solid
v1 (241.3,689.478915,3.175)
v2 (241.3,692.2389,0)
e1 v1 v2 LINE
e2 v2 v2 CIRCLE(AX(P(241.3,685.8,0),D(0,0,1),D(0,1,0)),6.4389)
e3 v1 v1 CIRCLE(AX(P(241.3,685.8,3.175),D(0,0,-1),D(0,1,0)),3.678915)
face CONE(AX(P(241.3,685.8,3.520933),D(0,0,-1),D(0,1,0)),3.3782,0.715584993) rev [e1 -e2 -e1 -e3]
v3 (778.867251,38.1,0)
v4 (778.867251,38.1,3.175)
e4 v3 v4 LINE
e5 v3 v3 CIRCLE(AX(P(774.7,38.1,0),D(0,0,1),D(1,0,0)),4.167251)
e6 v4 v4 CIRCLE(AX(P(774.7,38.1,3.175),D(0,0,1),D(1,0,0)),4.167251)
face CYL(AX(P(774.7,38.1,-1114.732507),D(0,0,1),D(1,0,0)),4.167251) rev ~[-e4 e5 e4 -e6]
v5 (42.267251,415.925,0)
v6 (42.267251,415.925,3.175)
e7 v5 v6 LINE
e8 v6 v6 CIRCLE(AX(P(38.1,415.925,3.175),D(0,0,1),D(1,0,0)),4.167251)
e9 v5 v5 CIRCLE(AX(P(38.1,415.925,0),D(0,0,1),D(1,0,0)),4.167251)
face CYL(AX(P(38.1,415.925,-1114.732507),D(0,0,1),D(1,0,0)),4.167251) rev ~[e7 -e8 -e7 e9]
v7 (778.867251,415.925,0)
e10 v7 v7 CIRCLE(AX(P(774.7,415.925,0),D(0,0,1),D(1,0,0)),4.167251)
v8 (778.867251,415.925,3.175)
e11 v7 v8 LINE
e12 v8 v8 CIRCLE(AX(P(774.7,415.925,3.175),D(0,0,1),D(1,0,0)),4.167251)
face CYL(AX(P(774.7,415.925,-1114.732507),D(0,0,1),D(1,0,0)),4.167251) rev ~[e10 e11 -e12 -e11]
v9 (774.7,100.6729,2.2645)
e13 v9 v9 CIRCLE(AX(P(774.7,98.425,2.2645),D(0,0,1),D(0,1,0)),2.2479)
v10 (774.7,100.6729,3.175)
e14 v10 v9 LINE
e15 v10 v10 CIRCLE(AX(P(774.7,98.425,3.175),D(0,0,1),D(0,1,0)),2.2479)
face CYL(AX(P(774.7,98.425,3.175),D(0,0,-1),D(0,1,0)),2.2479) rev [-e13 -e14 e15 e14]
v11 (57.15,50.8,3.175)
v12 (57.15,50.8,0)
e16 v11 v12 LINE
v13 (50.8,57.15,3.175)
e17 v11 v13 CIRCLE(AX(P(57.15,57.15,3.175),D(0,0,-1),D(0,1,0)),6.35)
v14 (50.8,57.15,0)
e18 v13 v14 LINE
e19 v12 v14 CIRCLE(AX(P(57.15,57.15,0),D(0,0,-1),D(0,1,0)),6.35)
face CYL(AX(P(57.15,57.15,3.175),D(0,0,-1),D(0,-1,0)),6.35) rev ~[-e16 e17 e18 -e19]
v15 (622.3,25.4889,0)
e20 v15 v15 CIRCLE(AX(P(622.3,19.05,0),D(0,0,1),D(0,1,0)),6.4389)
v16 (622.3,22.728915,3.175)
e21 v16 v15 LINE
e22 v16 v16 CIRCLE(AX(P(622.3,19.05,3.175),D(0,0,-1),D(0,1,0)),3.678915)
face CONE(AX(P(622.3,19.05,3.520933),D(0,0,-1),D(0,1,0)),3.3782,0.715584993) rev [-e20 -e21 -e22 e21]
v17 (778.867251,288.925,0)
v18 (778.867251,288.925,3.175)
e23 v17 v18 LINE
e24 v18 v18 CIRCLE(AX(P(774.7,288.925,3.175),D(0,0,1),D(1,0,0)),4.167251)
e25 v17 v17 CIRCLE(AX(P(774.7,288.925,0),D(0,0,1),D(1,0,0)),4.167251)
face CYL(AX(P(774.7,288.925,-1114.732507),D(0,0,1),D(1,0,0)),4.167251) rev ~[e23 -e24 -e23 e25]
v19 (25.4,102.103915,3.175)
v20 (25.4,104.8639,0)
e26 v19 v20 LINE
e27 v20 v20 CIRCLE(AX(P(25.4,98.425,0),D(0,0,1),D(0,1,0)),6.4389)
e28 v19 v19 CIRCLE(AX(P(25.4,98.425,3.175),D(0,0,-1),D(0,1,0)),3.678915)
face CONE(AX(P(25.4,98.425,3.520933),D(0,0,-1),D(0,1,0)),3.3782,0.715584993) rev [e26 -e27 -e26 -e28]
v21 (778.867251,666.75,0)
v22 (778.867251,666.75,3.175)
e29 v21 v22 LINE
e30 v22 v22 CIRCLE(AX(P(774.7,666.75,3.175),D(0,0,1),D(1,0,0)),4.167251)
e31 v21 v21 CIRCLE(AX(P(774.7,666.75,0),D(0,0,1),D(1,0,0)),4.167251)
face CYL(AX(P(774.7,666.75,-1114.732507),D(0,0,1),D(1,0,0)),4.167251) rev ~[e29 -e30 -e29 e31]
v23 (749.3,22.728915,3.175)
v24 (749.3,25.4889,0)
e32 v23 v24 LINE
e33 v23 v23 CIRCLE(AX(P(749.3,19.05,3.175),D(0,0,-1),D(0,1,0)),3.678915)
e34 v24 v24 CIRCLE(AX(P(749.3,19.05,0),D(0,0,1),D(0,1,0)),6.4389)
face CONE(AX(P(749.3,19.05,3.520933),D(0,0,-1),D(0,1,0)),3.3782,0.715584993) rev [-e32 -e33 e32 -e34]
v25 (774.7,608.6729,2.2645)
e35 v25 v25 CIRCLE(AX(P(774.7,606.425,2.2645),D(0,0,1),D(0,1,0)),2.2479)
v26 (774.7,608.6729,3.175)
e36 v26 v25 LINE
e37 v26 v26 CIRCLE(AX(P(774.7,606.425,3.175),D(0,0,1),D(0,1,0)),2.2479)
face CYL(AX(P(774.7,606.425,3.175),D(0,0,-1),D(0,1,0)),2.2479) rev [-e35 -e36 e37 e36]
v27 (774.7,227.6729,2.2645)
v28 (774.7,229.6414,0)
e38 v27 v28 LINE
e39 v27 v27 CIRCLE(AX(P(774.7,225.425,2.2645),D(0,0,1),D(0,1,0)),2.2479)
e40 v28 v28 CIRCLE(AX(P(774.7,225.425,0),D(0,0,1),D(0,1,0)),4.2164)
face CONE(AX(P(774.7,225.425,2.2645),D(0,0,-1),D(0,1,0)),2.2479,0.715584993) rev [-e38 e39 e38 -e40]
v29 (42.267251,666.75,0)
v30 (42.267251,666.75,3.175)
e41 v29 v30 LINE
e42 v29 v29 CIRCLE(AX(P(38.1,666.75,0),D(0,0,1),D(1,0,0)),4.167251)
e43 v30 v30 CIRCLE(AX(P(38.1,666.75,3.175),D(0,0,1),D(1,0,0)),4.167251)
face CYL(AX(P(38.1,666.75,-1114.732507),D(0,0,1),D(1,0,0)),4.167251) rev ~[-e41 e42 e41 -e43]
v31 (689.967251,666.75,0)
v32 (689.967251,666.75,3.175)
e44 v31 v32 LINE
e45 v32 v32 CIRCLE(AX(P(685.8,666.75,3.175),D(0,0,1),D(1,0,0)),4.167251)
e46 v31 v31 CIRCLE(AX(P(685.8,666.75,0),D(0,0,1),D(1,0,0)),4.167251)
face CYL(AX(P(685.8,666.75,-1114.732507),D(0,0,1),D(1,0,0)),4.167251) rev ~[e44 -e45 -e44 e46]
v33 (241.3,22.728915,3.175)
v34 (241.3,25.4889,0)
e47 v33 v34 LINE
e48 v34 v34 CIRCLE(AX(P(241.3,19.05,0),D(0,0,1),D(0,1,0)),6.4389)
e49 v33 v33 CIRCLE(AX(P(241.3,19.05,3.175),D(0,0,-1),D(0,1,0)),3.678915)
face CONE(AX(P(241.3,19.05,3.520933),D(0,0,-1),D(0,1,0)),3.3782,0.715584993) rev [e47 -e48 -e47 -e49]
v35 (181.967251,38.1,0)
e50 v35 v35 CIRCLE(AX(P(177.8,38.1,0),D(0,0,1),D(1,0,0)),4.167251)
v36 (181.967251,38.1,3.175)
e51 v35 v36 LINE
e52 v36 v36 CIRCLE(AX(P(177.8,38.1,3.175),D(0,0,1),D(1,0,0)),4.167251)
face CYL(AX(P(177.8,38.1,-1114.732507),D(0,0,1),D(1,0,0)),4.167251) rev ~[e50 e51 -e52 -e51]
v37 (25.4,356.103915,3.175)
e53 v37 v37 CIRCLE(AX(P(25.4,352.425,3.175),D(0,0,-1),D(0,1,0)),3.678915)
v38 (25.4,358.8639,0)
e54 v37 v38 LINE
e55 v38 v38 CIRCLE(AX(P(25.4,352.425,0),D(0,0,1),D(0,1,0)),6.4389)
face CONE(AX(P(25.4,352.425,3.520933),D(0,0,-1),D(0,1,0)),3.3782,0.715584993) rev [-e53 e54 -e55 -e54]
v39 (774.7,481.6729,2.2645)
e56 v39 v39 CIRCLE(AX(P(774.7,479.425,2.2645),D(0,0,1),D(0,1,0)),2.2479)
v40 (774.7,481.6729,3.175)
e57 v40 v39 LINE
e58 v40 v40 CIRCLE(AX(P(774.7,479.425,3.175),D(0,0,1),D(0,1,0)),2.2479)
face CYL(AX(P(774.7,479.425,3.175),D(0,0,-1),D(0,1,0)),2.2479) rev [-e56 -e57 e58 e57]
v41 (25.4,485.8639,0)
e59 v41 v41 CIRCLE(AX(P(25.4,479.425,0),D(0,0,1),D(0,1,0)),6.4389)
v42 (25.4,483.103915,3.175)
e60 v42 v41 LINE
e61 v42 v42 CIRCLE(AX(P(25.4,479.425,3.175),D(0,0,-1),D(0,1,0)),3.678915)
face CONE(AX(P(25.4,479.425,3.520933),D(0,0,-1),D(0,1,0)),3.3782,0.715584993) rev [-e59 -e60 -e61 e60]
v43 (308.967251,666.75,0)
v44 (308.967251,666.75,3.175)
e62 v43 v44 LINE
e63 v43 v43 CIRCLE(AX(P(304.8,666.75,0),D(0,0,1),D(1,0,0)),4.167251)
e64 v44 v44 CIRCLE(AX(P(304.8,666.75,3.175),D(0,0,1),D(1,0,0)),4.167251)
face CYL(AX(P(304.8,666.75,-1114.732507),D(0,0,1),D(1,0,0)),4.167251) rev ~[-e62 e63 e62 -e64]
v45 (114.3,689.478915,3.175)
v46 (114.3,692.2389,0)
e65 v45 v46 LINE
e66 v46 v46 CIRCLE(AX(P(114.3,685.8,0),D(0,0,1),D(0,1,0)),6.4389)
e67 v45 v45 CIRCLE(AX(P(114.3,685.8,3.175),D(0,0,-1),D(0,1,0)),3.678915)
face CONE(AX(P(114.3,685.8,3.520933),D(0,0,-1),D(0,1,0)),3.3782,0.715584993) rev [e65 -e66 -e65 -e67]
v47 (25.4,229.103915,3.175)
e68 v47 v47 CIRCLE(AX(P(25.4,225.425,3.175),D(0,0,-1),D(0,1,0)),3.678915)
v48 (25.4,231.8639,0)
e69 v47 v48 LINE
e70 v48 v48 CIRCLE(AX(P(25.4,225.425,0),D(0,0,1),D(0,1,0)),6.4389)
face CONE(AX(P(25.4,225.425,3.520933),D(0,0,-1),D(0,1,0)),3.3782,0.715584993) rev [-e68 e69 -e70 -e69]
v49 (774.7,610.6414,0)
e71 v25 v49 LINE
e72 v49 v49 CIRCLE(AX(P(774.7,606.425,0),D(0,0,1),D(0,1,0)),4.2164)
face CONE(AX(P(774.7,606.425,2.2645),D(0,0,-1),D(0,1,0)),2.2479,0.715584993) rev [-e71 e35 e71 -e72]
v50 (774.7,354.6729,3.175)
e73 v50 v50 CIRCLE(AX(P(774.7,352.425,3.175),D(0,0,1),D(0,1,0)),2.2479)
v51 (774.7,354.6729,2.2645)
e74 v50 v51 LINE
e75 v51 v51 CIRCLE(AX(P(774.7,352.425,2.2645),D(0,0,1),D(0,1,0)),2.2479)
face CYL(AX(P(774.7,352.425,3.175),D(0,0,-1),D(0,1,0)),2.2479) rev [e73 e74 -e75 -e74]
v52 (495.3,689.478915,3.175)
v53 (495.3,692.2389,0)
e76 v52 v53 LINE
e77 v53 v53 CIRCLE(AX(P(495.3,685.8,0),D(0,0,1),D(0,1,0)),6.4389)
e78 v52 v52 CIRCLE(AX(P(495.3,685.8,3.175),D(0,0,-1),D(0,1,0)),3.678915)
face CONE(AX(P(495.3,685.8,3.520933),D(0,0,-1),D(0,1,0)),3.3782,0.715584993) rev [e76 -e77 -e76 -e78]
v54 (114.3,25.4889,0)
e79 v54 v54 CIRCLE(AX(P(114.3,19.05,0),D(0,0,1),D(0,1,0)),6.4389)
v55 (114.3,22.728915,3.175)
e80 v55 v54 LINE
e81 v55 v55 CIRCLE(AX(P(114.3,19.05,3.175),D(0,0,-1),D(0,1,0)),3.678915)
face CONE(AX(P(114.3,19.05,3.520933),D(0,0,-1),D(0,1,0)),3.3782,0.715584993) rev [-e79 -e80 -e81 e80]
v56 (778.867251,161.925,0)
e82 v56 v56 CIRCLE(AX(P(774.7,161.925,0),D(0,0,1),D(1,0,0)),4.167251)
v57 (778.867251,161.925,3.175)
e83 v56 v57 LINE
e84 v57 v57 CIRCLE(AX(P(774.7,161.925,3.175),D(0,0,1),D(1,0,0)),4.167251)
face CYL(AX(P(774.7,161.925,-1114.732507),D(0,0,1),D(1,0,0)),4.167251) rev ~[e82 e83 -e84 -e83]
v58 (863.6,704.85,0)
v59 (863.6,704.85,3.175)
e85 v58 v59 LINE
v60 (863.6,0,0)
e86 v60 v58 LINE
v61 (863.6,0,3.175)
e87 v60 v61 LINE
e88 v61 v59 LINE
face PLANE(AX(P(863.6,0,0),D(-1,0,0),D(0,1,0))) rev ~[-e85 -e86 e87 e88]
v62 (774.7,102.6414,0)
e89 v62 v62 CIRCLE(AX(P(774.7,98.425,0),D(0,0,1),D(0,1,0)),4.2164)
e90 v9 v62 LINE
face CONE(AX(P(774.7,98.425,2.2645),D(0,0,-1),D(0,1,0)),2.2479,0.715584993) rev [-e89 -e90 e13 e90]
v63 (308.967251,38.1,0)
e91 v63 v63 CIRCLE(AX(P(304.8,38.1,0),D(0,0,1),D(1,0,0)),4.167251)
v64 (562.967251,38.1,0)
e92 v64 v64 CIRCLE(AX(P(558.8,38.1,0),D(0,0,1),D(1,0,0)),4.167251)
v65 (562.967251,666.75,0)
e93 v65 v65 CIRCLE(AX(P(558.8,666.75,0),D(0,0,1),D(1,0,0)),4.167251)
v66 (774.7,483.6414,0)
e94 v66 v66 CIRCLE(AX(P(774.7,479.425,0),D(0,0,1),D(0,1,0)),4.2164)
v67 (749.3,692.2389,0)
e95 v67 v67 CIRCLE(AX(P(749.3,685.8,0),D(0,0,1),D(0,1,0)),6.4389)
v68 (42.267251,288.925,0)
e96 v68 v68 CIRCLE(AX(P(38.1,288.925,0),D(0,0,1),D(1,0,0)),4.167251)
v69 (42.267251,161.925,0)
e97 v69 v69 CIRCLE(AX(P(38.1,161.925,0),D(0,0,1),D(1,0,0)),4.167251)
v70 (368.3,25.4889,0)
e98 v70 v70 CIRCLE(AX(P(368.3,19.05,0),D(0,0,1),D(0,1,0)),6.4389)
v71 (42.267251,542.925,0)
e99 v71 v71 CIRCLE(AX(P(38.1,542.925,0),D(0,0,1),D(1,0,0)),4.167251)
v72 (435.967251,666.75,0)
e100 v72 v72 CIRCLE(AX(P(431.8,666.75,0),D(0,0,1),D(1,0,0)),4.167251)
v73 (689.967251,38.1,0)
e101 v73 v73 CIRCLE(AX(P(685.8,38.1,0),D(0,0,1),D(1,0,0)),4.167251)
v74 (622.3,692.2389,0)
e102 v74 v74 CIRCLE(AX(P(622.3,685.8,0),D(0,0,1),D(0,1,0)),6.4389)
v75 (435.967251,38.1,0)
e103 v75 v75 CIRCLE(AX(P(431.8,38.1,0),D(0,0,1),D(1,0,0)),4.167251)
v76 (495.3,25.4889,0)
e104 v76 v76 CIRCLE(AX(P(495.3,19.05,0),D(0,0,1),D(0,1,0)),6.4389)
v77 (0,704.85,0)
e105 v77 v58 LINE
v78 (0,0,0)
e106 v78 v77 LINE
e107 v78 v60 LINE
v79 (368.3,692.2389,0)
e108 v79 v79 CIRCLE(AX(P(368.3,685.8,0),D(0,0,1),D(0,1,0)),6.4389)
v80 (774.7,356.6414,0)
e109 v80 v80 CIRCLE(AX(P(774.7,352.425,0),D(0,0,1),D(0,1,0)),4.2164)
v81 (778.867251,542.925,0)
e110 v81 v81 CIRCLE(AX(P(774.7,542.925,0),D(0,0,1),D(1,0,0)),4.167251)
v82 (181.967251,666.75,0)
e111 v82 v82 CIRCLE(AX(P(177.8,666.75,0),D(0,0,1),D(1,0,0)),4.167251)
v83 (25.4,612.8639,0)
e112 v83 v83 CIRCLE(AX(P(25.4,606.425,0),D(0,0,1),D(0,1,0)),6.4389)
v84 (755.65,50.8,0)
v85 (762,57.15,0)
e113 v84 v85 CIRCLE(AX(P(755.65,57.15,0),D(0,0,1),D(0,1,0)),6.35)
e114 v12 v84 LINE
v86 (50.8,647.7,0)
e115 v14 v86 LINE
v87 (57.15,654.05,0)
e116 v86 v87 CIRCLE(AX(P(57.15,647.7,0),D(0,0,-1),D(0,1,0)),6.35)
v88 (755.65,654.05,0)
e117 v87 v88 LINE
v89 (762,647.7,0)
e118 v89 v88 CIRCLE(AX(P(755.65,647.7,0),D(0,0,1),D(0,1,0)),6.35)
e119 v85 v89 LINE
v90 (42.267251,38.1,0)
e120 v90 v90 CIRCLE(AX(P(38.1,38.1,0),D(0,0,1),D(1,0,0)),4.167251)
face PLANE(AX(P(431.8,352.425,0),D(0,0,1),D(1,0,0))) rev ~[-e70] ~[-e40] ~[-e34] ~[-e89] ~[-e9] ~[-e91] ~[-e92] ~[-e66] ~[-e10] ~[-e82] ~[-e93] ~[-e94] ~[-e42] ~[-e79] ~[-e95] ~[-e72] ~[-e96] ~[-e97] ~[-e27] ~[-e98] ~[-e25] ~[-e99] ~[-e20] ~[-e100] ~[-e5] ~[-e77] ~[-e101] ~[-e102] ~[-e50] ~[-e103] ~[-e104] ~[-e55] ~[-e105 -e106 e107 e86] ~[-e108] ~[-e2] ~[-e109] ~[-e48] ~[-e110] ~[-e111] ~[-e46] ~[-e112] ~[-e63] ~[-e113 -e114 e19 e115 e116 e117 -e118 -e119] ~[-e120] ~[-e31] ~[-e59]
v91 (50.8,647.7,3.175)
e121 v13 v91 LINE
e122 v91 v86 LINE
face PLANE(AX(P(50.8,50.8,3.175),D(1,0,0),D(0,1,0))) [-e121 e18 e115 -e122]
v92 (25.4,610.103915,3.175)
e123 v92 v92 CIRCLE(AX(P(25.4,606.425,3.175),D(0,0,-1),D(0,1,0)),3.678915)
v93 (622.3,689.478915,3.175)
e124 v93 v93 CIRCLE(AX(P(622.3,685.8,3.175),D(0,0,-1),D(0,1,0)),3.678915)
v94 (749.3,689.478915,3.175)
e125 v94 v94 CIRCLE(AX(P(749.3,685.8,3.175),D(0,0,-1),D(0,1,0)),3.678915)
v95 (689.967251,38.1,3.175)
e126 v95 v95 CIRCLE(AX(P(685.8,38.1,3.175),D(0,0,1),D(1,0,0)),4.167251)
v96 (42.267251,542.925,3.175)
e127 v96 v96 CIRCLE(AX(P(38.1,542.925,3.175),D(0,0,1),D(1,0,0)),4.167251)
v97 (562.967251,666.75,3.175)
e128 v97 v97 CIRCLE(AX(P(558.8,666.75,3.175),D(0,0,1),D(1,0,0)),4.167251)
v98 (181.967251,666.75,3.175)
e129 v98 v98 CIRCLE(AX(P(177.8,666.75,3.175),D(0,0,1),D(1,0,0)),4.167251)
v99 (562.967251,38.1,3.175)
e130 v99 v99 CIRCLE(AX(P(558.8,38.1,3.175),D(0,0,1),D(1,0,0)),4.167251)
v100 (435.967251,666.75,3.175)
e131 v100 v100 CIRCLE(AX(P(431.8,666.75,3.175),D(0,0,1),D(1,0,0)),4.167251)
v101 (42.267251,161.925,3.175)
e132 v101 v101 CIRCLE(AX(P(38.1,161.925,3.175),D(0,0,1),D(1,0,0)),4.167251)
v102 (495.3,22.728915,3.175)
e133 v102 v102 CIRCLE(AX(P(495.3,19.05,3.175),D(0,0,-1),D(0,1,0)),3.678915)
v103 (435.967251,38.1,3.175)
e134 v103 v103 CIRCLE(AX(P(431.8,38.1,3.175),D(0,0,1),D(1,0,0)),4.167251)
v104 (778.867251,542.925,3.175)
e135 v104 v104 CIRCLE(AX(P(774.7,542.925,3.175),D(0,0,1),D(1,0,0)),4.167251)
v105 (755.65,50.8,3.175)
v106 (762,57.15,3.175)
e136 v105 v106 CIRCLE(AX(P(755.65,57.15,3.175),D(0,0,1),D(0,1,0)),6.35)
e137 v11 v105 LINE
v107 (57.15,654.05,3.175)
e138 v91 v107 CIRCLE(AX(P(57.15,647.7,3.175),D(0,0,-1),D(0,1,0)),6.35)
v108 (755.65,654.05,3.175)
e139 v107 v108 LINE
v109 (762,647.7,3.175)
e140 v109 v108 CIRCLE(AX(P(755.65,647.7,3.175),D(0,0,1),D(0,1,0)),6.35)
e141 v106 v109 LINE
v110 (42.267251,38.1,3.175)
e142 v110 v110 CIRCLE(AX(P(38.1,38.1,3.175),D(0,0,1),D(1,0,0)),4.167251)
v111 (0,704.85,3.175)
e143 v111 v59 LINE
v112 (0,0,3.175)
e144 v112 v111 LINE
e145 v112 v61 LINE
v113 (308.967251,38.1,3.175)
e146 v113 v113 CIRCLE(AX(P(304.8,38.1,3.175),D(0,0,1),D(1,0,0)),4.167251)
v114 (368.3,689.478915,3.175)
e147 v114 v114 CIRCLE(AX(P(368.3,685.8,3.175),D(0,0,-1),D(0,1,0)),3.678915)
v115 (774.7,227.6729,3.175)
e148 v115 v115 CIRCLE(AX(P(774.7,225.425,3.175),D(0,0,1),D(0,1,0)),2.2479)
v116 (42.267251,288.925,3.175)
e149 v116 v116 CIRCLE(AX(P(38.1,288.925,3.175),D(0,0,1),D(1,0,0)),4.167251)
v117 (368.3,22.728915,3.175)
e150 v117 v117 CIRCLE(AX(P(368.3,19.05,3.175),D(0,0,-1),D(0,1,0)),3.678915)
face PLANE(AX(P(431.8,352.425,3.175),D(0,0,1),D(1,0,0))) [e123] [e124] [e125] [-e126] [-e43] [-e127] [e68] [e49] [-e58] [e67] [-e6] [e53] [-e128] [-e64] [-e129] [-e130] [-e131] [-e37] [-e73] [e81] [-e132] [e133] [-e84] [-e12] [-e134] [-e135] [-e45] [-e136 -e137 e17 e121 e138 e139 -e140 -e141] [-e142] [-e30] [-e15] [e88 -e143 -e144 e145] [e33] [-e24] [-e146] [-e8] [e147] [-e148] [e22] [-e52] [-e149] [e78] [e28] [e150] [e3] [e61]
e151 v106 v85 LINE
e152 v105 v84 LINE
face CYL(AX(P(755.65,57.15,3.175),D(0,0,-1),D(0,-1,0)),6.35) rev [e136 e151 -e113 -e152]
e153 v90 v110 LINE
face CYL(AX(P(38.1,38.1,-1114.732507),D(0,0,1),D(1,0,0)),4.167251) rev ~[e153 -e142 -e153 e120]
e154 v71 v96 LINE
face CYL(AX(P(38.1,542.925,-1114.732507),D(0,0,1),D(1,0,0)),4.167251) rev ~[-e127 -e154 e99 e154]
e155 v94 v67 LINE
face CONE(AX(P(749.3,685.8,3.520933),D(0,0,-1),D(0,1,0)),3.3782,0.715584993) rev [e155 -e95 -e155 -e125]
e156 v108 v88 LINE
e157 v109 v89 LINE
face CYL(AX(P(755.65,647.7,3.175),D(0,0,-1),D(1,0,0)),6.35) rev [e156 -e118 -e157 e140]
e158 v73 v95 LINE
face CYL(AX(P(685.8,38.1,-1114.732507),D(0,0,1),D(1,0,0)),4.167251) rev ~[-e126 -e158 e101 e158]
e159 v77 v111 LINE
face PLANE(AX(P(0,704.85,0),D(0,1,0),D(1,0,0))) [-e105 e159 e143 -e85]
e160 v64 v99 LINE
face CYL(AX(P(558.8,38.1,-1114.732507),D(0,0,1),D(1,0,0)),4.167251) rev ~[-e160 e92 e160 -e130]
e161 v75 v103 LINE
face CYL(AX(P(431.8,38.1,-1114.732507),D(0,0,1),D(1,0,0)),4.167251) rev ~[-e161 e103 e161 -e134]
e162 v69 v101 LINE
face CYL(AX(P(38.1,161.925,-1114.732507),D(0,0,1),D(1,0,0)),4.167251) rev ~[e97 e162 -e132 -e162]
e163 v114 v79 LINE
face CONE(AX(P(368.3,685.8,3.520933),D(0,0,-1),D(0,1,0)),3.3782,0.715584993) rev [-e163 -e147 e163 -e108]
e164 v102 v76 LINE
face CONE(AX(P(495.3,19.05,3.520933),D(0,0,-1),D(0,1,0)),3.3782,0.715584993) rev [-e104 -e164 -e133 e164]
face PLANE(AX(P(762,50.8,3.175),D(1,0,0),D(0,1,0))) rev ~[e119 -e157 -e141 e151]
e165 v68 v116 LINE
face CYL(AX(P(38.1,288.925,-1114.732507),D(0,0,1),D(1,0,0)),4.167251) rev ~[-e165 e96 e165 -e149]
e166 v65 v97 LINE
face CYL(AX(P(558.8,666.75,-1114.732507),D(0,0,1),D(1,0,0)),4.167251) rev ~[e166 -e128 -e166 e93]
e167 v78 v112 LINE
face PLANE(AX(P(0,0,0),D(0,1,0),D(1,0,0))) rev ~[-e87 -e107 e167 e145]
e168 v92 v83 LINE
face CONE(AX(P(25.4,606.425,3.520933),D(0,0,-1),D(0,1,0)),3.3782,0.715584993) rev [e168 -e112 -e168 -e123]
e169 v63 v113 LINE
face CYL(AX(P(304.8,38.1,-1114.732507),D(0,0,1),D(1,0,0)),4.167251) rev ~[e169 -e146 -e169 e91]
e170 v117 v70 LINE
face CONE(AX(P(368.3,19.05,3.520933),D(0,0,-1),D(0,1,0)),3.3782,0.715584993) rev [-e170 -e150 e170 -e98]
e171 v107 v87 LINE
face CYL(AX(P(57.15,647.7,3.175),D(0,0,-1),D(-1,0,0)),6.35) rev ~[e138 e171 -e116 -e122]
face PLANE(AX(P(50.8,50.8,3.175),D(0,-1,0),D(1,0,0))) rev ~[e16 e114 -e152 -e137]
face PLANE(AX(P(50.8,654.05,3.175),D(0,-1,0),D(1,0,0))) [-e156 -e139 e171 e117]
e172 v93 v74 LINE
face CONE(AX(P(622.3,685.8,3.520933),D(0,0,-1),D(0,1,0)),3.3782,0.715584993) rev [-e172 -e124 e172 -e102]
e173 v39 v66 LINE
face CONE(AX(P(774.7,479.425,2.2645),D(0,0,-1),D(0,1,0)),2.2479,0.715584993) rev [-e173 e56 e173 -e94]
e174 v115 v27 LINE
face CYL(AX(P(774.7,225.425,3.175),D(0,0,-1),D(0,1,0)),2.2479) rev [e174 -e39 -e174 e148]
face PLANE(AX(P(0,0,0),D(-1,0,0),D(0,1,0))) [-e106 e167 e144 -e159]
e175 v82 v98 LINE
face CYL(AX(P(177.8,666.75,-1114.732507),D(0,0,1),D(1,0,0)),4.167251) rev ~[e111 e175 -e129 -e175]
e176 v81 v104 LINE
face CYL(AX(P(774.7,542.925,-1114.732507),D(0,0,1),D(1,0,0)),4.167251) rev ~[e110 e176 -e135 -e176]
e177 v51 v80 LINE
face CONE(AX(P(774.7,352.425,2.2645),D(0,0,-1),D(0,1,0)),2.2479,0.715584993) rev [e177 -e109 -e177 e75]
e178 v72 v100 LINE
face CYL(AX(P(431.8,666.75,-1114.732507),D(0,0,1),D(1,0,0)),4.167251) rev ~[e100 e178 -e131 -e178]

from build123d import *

# Parameters (mm, degrees)
SKETCH1_W                        = 863.6
SKETCH1_H                        = 704.85
BOSS_EXTRUDE1_DEPTH              = 3.175
SKETCH2_W                        = 711.2
SKETCH2_H                        = 603.25
CUT_EXTRUDE1_DEPTH               = 1115.732507432
LPATTERN4_COUNT                  = 6
LPATTERN4_PITCH                  = 127
LPATTERN4_COUNT_DIR2             = 2
LPATTERN4_PITCH_DIR2             = 666.75
LPATTERN5_COUNT                  = 5
LPATTERN5_PITCH                  = 127
F_21_64_0_32813_DIAMETER_HOLE1_D = 8.334502
LPATTERN6_COUNT                  = 2
LPATTERN6_PITCH                  = 736.6
LPATTERN6_COUNT_DIR2             = 2
LPATTERN6_PITCH_DIR2             = 628.65
F_21_64_0_32813_DIAMETER_HOLE2_D = 8.334502
LPATTERN7_COUNT                  = 5
LPATTERN7_PITCH                  = 127
LPATTERN7_COUNT_DIR2             = 2
LPATTERN7_PITCH_DIR2             = 628.65
F_21_64_0_32813_DIAMETER_HOLE3_D = 8.334502
LPATTERN8_COUNT                  = 4
LPATTERN8_PITCH                  = 127
LPATTERN8_COUNT_DIR2             = 2
LPATTERN8_PITCH_DIR2             = 736.6
FILLET1_R                        = 6.35
LPATTERN9_COUNT                  = 5
LPATTERN9_PITCH                  = 127


with BuildPart() as part:
    # Sketch1 → Boss-Extrude1 (new body)
    with BuildSketch(Plane.XY):
        with Locations((431.8, 352.425)):
            Rectangle(SKETCH1_W, SKETCH1_H)
    extrude(amount=BOSS_EXTRUDE1_DEPTH)

    # Sketch2 → Cut-Extrude1 (cut, through all)
    with BuildSketch(Plane.XY.offset(3.175)):
        with Locations((406.4, 352.425)):
            Rectangle(SKETCH2_W, SKETCH2_H)
    extrude(amount=-CUT_EXTRUDE1_DEPTH, mode=Mode.SUBTRACT)

    # Sketch12 → CSK for 1/4 Flat Head Machine Screw2 (revolve, cut)
    with BuildSketch(Plane(origin=(114.3, 19.05, 0), x_dir=(0, 1, 0), z_dir=(1, 0, 0))):
        Polygon((0, 0), (0, 3.175), (3.3782, 3.175), (3.3782, 3.520932584), (6.4389, 0), align=None)
    csk_for_1_4_flat_head_machine_screw2 = revolve(axis=Axis((114.3, 19.05, -6.35), (0, 0, 1)), mode=Mode.SUBTRACT)

    # LPattern4: CSK for 1_4 Flat Head Machine Screw2 6 × 2
    with Locations(*[(i * LPATTERN4_PITCH, j * LPATTERN4_PITCH_DIR2, 0) for i in range(LPATTERN4_COUNT) for j in range(LPATTERN4_COUNT_DIR2) if (i, j) != (0, 0)]):
        add(csk_for_1_4_flat_head_machine_screw2, mode=Mode.SUBTRACT)

    # Sketch14 → CSK for 1/4 Flat Head Machine Screw3 (revolve, cut)
    with BuildSketch(Plane(origin=(25.4, 98.425, 0), x_dir=(0, 1, 0), z_dir=(1, 0, 0))):
        Polygon((0, 0), (0, 3.175), (3.3782, 3.175), (3.3782, 3.520932584), (6.4389, 0), align=None)
    csk_for_1_4_flat_head_machine_screw3 = revolve(axis=Axis((25.4, 98.425, -6.35), (0, 0, 1)), mode=Mode.SUBTRACT)

    # LPattern5: CSK for 1/4 Flat Head Machine Screw3 ×5
    with Locations(*[(0, i * LPATTERN5_PITCH, 0) for i in range(1, LPATTERN5_COUNT)]):
        add(csk_for_1_4_flat_head_machine_screw3, mode=Mode.SUBTRACT)

    # 21/64 (0.32813) Diameter Hole1 (through all)
    with Locations(Plane(origin=(0, 0, 0), x_dir=(-1, 0, 0), z_dir=(0, 0, -1))):
        with Locations((-38.1, 38.1)):
            f_21_64_0_32813_diameter_hole1 = Hole(F_21_64_0_32813_DIAMETER_HOLE1_D / 2)

    # LPattern6: 21_64 _0.32813_ Diameter Hole1 2 × 2
    with Locations(*[(i * LPATTERN6_PITCH, j * LPATTERN6_PITCH_DIR2, 0) for i in range(LPATTERN6_COUNT) for j in range(LPATTERN6_COUNT_DIR2) if (i, j) != (0, 0)]):
        add(f_21_64_0_32813_diameter_hole1, mode=Mode.SUBTRACT)

    # 21/64 (0.32813) Diameter Hole2 (through all)
    with Locations(Plane(origin=(0, 0, 0), x_dir=(-1, 0, 0), z_dir=(0, 0, -1))):
        with Locations((-177.8, 38.1)):
            f_21_64_0_32813_diameter_hole2 = Hole(F_21_64_0_32813_DIAMETER_HOLE2_D / 2)

    # LPattern7: 21_64 _0.32813_ Diameter Hole2 5 × 2
    with Locations(*[(i * LPATTERN7_PITCH, j * LPATTERN7_PITCH_DIR2, 0) for i in range(LPATTERN7_COUNT) for j in range(LPATTERN7_COUNT_DIR2) if (i, j) != (0, 0)]):
        add(f_21_64_0_32813_diameter_hole2, mode=Mode.SUBTRACT)

    # 21/64 (0.32813) Diameter Hole3 (through all)
    with Locations(Plane(origin=(0, 0, 0), x_dir=(-1, 0, 0), z_dir=(0, 0, -1))):
        with Locations((-38.1, 161.925)):
            f_21_64_0_32813_diameter_hole3 = Hole(F_21_64_0_32813_DIAMETER_HOLE3_D / 2)

    # LPattern8: 21_64 _0.32813_ Diameter Hole3 4 × 2
    with Locations(*[(j * LPATTERN8_PITCH_DIR2, i * LPATTERN8_PITCH, 0) for i in range(LPATTERN8_COUNT) for j in range(LPATTERN8_COUNT_DIR2) if (i, j) != (0, 0)]):
        add(f_21_64_0_32813_diameter_hole3, mode=Mode.SUBTRACT)

    # Fillet1
    fillet1_edges = [part.edges().sort_by_distance(p)[0] for p in [
        (50.8, 50.8, 1.5875),
        (50.8, 654.05, 1.5875),
        (762, 654.05, 1.5875),
        (762, 50.8, 1.5875),
    ]]
    fillet(fillet1_edges, radius=FILLET1_R)

    # Sketch22 → CSK for #8 Flat Head Machine Screw1 (revolve, cut)
    with BuildSketch(Plane(origin=(774.7, 606.425, 0), x_dir=(0, 1, 0), z_dir=(1, 0, 0))):
        Polygon((0, 0), (0, 3.175), (2.2479, 3.175), (2.2479, 2.26450021), (4.2164, 0), align=None)
    csk_for_8_flat_head_machine_screw1 = revolve(axis=Axis((774.7, 606.425, -6.35), (0, 0, 1)), mode=Mode.SUBTRACT)

    # LPattern9: CSK for #8 Flat Head Machine Screw1 ×5
    with Locations(*[(0, -i * LPATTERN9_PITCH, 0) for i in range(1, LPATTERN9_COUNT)]):
        add(csk_for_8_flat_head_machine_screw1, mode=Mode.SUBTRACT)


solid = part.part
